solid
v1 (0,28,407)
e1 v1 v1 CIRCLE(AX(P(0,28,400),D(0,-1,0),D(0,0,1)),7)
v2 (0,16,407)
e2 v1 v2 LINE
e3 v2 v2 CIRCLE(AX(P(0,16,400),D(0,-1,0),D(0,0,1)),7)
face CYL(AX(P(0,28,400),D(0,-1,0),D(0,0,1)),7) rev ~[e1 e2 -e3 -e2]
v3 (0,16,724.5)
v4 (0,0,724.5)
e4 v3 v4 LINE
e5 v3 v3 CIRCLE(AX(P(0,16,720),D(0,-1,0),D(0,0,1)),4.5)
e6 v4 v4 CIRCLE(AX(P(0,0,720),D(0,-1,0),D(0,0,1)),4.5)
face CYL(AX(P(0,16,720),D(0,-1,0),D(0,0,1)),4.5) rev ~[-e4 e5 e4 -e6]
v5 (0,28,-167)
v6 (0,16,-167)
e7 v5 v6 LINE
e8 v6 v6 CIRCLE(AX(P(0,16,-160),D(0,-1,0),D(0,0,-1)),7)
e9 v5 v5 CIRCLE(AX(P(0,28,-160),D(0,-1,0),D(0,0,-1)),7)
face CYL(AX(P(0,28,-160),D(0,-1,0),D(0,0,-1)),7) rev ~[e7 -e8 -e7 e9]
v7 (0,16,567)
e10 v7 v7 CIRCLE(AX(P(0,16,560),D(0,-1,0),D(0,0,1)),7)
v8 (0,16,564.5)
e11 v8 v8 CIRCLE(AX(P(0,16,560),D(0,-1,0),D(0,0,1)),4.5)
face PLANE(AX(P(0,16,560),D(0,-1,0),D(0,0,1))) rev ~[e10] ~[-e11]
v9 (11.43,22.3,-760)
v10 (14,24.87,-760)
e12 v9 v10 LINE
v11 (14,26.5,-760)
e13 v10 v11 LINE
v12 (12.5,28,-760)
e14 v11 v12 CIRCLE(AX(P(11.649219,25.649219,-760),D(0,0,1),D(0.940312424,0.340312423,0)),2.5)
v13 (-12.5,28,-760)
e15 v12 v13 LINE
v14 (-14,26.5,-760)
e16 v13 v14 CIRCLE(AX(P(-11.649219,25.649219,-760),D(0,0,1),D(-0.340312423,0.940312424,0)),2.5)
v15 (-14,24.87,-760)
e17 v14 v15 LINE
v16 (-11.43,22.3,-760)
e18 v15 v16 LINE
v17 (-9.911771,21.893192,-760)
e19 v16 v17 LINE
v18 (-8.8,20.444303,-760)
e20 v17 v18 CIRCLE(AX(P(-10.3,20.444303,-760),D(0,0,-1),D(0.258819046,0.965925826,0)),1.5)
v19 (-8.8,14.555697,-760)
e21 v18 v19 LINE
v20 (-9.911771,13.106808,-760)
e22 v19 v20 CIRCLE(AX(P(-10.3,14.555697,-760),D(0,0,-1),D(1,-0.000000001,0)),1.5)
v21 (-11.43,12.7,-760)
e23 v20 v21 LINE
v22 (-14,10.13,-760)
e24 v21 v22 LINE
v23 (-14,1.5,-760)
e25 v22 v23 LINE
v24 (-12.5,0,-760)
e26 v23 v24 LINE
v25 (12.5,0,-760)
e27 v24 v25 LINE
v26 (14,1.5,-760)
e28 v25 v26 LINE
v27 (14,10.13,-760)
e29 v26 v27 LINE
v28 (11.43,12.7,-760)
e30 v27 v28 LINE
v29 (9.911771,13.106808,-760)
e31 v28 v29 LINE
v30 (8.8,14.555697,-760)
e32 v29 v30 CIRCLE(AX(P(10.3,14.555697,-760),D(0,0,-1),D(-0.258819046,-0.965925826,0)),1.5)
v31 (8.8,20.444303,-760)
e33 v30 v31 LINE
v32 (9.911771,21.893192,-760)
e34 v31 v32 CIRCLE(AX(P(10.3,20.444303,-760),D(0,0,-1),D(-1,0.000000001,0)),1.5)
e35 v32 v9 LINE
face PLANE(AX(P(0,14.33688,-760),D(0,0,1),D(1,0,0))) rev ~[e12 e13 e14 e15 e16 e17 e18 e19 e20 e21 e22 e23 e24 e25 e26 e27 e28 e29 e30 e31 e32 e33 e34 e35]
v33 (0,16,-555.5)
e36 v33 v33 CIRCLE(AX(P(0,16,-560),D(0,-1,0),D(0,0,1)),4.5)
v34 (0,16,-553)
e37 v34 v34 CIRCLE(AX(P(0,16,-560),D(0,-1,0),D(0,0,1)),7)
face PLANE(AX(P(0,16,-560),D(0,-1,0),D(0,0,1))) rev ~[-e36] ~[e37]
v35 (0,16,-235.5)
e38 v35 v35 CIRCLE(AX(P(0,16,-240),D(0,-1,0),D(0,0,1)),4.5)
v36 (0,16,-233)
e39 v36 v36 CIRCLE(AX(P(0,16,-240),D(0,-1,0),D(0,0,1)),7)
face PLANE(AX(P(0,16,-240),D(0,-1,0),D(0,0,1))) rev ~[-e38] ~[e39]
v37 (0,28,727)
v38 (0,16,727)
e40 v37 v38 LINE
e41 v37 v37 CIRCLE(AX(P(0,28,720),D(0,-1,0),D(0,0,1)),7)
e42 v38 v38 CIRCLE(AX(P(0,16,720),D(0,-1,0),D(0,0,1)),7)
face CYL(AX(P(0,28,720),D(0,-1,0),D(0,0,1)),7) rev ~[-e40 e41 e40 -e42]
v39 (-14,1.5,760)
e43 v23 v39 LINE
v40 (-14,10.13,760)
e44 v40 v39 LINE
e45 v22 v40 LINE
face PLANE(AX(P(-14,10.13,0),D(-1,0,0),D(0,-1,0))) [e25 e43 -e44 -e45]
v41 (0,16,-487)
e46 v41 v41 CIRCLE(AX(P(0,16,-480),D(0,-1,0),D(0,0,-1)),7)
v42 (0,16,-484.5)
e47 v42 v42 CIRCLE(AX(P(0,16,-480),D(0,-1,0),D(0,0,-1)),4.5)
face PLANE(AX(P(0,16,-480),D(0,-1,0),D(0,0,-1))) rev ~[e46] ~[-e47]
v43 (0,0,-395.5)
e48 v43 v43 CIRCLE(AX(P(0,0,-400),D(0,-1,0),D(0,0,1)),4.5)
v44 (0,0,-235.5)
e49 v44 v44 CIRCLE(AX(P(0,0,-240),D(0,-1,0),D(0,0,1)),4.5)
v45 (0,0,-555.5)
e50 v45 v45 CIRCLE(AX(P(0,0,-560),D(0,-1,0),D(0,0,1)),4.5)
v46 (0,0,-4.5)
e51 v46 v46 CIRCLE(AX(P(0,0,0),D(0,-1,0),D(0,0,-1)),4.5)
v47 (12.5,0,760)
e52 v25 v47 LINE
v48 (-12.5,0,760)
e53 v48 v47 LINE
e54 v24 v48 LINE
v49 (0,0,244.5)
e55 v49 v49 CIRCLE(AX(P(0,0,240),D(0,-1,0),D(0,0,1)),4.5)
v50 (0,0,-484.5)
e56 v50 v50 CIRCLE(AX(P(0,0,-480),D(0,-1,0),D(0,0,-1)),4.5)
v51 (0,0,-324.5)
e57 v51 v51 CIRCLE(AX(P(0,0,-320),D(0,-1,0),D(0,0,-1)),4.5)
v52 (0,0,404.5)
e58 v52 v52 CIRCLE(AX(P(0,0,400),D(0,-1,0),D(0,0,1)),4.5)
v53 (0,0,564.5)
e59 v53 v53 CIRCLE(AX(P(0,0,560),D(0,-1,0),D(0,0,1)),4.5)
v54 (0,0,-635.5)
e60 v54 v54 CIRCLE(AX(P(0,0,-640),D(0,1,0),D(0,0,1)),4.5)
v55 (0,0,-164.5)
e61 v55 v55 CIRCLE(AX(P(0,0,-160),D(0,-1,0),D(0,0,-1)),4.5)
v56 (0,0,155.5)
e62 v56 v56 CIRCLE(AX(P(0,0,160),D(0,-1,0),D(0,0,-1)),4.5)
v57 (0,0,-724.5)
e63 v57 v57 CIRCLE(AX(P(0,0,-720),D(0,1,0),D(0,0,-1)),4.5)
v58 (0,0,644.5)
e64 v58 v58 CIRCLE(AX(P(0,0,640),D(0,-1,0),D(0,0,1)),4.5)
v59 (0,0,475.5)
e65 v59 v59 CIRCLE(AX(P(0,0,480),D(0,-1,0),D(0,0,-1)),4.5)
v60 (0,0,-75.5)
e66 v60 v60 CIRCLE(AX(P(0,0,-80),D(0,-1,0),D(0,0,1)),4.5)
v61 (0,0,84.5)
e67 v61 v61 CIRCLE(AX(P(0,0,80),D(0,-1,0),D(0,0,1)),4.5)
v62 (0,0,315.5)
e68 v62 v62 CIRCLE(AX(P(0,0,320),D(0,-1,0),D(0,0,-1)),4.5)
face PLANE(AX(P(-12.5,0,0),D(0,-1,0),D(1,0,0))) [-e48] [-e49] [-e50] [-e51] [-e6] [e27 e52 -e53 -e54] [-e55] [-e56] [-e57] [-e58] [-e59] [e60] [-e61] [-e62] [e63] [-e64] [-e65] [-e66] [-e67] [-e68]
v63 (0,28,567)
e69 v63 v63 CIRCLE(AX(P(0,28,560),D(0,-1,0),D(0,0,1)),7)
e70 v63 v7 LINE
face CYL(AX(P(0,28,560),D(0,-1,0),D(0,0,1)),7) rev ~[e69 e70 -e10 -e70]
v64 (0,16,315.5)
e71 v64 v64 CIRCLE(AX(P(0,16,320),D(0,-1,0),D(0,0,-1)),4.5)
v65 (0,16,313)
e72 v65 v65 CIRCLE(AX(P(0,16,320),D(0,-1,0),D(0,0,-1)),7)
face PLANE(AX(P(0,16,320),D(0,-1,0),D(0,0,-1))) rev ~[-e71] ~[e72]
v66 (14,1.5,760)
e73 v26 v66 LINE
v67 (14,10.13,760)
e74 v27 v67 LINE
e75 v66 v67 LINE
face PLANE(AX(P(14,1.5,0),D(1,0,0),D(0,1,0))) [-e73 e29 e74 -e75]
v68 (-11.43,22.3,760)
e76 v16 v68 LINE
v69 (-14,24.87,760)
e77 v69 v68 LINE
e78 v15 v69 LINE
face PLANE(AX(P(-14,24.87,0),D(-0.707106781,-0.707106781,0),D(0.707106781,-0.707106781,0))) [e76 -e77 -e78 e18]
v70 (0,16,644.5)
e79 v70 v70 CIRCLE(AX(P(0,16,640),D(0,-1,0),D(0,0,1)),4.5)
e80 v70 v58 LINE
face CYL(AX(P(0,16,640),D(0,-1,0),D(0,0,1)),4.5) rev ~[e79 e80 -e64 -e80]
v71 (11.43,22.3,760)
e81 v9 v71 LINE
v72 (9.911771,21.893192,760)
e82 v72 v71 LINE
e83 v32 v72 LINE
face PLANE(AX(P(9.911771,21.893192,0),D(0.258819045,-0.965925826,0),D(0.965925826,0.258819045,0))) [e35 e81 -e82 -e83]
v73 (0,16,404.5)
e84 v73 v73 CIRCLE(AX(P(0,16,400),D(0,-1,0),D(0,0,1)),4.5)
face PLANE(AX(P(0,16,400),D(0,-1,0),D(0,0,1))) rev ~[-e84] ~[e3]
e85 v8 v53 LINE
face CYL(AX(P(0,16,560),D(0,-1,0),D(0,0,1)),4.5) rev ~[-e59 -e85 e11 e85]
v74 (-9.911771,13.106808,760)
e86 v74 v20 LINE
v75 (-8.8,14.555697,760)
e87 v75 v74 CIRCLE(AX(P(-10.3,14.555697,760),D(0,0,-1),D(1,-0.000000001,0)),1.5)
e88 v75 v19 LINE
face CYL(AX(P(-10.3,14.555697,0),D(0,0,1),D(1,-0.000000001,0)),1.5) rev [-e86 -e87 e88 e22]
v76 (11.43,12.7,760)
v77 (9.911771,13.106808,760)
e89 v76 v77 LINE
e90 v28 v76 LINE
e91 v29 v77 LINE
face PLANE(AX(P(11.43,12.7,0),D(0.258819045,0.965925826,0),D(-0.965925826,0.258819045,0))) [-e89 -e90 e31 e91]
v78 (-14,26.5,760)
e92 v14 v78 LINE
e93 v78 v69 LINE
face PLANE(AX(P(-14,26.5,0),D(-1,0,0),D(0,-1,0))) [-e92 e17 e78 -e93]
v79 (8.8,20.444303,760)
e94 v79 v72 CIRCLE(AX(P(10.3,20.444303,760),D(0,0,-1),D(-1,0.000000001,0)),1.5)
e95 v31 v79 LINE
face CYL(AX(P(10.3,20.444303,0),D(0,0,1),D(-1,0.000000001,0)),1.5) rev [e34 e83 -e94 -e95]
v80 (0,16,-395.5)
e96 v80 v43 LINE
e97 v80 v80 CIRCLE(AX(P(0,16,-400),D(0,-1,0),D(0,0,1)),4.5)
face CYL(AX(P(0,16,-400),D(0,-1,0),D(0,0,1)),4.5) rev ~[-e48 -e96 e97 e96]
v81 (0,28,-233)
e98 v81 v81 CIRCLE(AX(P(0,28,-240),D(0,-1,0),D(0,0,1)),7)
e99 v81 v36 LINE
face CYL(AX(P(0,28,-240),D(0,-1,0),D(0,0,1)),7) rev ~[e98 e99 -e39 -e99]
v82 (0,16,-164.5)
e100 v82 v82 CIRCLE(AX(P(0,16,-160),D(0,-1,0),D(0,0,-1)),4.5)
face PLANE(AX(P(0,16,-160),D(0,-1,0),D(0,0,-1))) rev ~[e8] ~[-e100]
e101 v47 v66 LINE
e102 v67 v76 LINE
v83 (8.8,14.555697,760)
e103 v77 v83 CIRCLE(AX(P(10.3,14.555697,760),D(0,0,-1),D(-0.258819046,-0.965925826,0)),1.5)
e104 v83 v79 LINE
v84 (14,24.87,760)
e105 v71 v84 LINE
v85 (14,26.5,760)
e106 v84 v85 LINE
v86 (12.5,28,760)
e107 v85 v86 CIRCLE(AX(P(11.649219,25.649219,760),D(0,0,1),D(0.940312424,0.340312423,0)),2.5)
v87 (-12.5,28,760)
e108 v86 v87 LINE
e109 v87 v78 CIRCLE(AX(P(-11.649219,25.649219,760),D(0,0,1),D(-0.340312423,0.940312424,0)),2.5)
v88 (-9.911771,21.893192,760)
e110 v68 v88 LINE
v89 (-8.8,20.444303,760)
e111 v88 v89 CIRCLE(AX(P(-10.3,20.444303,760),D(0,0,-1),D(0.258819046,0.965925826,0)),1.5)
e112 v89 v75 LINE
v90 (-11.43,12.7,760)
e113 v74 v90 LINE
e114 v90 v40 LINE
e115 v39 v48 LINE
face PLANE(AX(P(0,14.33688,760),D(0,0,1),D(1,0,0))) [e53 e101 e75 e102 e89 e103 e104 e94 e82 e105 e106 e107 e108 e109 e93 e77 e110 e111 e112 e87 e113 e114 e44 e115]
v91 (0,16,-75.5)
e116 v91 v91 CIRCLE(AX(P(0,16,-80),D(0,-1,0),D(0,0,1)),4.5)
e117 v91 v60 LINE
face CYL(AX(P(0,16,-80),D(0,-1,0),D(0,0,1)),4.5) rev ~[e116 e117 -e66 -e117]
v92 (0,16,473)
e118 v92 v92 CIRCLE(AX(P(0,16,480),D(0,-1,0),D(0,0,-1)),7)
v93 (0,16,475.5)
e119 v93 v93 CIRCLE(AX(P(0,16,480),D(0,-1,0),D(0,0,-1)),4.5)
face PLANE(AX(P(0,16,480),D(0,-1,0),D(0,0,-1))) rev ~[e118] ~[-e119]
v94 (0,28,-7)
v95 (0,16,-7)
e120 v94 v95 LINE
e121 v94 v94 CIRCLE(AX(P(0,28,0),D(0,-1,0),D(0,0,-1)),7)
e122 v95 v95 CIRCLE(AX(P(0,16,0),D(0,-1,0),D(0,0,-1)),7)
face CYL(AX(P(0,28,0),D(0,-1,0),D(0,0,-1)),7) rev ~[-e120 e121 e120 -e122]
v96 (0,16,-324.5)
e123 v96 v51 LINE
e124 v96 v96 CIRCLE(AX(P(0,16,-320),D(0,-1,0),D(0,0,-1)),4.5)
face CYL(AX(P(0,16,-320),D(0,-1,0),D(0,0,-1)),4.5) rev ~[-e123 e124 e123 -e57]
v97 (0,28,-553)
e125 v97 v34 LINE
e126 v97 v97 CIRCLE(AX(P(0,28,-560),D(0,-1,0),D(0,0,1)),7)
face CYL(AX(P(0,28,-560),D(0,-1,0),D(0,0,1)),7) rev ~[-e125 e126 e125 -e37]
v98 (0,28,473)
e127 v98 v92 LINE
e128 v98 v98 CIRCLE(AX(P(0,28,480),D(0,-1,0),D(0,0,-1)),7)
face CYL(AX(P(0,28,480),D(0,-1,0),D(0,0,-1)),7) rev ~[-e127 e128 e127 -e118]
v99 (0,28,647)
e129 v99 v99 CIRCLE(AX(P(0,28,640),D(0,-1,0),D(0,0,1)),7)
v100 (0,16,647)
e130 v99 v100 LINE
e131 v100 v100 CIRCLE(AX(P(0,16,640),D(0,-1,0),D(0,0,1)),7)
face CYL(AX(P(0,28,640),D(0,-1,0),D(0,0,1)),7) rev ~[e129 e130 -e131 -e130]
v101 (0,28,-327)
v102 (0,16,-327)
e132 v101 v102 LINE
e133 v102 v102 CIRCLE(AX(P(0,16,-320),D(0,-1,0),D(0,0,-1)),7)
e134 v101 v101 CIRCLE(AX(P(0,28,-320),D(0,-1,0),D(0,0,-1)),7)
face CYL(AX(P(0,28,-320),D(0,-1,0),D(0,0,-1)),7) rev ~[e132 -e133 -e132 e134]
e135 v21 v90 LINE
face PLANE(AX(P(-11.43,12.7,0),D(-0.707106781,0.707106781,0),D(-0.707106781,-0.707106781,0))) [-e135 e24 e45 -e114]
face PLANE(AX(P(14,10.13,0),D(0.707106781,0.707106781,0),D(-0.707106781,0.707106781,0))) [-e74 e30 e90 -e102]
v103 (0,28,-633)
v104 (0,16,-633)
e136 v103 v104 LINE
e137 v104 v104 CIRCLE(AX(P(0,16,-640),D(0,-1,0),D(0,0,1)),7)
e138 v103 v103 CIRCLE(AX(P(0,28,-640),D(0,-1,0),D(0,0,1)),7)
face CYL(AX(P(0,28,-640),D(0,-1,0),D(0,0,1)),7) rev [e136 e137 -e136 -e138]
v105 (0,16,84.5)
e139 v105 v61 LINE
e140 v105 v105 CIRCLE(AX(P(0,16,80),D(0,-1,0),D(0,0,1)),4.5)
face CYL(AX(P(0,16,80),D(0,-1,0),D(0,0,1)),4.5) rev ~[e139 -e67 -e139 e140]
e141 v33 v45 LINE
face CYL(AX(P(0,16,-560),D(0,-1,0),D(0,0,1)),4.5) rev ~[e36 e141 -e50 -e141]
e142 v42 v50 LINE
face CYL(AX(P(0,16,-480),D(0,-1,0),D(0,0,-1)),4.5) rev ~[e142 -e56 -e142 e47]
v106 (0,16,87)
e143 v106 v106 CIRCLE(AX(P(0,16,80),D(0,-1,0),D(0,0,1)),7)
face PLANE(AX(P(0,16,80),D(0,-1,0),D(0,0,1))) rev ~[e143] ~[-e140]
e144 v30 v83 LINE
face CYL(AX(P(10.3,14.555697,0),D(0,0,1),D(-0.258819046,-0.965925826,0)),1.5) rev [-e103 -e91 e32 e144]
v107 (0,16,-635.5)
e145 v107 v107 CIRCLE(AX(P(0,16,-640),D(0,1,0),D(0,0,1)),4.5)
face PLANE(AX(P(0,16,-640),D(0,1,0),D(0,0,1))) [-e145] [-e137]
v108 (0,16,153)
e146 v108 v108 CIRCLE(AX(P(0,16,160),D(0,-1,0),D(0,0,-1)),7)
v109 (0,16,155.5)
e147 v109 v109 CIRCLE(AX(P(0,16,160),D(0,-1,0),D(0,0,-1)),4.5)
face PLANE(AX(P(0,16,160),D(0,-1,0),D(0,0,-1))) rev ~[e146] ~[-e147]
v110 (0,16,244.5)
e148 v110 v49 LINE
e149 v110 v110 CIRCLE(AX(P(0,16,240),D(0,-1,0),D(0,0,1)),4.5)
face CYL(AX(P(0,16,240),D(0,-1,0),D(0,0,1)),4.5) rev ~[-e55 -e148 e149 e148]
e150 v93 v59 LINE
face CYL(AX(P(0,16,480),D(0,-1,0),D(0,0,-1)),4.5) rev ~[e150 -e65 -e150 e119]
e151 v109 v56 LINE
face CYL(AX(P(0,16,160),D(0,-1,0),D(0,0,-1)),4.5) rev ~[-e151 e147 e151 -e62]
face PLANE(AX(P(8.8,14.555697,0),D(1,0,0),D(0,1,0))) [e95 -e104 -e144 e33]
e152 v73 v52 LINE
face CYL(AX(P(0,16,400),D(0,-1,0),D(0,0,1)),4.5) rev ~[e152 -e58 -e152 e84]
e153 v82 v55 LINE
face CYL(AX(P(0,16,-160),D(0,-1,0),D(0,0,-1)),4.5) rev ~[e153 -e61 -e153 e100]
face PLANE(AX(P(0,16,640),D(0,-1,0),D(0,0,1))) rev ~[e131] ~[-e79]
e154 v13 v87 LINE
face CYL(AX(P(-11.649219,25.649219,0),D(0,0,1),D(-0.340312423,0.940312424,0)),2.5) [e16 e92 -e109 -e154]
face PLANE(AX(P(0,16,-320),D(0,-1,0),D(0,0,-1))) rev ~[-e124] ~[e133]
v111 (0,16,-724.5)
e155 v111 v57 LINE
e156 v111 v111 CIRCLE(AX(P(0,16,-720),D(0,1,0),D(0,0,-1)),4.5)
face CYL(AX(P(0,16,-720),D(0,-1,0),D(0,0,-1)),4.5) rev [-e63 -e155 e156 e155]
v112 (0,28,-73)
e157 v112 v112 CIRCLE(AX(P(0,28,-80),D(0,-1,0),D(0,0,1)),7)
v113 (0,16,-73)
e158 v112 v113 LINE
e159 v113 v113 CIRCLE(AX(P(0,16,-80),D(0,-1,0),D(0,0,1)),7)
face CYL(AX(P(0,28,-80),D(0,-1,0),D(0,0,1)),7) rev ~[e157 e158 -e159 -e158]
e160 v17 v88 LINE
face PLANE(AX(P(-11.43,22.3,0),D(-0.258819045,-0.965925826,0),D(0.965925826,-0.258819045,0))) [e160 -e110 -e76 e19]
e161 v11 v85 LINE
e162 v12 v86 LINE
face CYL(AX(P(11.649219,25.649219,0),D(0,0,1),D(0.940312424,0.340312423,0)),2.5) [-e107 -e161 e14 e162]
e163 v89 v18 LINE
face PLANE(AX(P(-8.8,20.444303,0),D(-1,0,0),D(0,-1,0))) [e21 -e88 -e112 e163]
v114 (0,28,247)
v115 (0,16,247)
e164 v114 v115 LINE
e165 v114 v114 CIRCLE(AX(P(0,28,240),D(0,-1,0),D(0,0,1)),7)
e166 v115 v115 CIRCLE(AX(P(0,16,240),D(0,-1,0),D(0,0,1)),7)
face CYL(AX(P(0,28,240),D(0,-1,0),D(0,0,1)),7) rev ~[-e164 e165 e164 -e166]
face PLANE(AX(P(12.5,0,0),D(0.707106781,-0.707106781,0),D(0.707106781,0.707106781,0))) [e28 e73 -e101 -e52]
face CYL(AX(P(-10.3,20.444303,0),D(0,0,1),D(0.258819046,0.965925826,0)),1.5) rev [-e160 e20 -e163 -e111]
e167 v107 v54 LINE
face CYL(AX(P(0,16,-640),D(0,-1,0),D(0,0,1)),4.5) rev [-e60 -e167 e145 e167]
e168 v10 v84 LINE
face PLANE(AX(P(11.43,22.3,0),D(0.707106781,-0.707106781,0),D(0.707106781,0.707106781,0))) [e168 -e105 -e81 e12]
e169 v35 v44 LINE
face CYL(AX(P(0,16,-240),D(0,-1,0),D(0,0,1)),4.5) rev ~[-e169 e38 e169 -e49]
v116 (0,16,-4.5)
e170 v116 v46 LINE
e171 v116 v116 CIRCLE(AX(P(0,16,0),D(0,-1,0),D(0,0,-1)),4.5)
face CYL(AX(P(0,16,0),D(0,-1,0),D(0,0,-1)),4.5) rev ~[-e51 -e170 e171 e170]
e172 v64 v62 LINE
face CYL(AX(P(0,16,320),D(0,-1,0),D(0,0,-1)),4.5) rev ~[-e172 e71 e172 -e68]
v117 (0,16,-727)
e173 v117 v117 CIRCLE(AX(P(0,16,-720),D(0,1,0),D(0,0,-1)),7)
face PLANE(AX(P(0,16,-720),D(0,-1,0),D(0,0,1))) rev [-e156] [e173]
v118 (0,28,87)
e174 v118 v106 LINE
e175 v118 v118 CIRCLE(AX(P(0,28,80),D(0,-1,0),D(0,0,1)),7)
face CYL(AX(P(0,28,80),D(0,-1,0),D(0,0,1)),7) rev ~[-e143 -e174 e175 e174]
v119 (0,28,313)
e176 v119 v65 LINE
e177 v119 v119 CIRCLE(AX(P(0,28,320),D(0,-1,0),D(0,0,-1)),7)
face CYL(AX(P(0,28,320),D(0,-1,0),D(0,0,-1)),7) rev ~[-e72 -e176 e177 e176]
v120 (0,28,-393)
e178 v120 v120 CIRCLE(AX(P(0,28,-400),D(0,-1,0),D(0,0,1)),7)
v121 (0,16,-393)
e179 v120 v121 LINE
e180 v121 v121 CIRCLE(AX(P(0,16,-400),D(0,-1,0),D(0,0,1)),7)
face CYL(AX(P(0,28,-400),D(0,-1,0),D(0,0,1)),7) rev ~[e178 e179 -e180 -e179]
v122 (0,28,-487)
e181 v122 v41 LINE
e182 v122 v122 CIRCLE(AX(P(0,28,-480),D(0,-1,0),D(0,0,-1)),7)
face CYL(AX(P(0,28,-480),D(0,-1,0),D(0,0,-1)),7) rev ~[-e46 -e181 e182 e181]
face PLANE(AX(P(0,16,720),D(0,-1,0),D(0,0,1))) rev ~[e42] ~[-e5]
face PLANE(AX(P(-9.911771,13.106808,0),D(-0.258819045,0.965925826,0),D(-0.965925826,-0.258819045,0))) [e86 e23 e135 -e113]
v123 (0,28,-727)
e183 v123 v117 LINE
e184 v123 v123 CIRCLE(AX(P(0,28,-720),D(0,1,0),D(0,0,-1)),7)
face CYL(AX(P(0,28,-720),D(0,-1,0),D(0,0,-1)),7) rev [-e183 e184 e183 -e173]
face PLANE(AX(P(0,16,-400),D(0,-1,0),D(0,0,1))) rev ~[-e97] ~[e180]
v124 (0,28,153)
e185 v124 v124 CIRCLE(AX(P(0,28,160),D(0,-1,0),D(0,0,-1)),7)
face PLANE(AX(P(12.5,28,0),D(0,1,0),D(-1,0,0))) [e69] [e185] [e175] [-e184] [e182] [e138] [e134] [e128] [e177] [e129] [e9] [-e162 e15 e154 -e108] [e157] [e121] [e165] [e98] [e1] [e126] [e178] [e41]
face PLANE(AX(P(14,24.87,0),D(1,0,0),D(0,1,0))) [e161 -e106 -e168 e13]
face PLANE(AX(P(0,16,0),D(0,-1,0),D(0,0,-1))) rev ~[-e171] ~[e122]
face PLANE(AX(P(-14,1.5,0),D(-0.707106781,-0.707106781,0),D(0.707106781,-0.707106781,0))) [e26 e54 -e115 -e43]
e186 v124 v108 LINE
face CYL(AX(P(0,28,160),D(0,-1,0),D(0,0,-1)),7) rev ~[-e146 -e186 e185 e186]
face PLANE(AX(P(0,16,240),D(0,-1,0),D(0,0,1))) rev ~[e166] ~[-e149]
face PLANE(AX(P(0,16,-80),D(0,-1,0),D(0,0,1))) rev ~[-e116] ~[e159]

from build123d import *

# Parameters (mm, degrees)
BOSS_EXTRUDE1_DEPTH = 760
LPATTERN1_COUNT     = 2
LPATTERN1_PITCH     = 80
LPATTERN2_COUNT     = 9
LPATTERN2_PITCH     = 160


with BuildPart() as part:
    # Sketch1 → Boss-Extrude1 (new, symmetric)
    with BuildSketch(Plane.XY):
        with BuildLine():
            Line((-9.911771432, 13.106808119), (-11.43, 12.7))
            Line((-11.43, 12.7), (-14, 10.13))
            Line((-14, 10.13), (-14, 1.5))
            Line((-14, 1.5), (-12.5, 0))
            Line((-12.5, 0), (12.5, 0))
            Line((12.5, 0), (14, 1.5))
            Line((14, 1.5), (14, 10.13))
            Line((14, 10.13), (11.43, 12.7))
            Line((11.43, 12.7), (9.911771432, 13.106808119))
            ThreePointArc((9.911771432, 13.106808119), (9.10996999, 13.642554715), (8.8, 14.555696858))
            Line((8.8, 14.555696858), (8.8, 20.444303142))
            ThreePointArc((8.8, 20.444303142), (9.10996999, 21.357445285), (9.911771432, 21.893191881))
            Line((9.911771432, 21.893191881), (11.43, 22.3))
            Line((11.43, 22.3), (14, 24.87))
            Line((14, 24.87), (14, 26.5))
            ThreePointArc((14, 26.5), (13.416985894, 27.416985894), (12.5, 28))
            Line((12.5, 28), (-12.5, 28))
            ThreePointArc((-12.5, 28), (-13.416985894, 27.416985894), (-14, 26.5))
            Line((-14, 26.5), (-14, 24.87))
            Line((-14, 24.87), (-11.43, 22.3))
            Line((-11.43, 22.3), (-9.911771432, 21.893191881))
            ThreePointArc((-9.911771432, 21.893191881), (-9.10996999, 21.357445285), (-8.8, 20.444303142))
            Line((-8.8, 20.444303142), (-8.8, 14.555696858))
            ThreePointArc((-8.8, 14.555696858), (-9.10996999, 13.642554715), (-9.911771432, 13.106808119))
        make_face()
    extrude(amount=BOSS_EXTRUDE1_DEPTH, both=True)

    # Sketch2 → Cut-Revolve1 (revolve, cut)
    with BuildSketch(Plane(origin=(0, 0, 0), x_dir=(0, 0, -1), z_dir=(1, 0, 0)), mode=Mode.PRIVATE) as cut_revolve1_sk:
        Polygon((-720, 28), (-713, 28), (-713, 16), (-715.5, 16), (-715.5, 0), (-720, 0), align=None)
    cut_revolve1 = revolve(cut_revolve1_sk.sketch.rotate(Axis((0, 28, 720), (0, -1, 0)), 180), axis=Axis((0, 28, 720), (0, -1, 0)), mode=Mode.SUBTRACT)

    # LPattern1: Cut-Revolve1 ×2
    with Locations(*[(0, 0, -i * LPATTERN1_PITCH) for i in range(1, LPATTERN1_COUNT)]):
        add(cut_revolve1, mode=Mode.SUBTRACT)

    # Mirror1: Cut-Revolve1 across plane
    add(cut_revolve1.mirror(Plane.XY), mode=Mode.SUBTRACT)

    # Mirror1 copy 1 sketch → Mirror1 copy 1 (revolve, cut)
    with BuildSketch(Plane(origin=(0, 0, 80), x_dir=(0, 0, 1), z_dir=(1, 0, 0))):
        Polygon((-720, -28), (-713, -28), (-713, -16), (-715.5, -16), (-715.5, 0), (-720, 0), align=None)
    revolve(axis=Axis((0, 28, -640), (0, 1, 0)), mode=Mode.SUBTRACT)

    # LPattern2: Cut-Revolve1 ×9
    with Locations(*[(0, 0, -i * LPATTERN2_PITCH) for i in range(1, LPATTERN2_COUNT)]):
        add(cut_revolve1, mode=Mode.SUBTRACT)

    # LPattern2 copy 1 sketch → LPattern2 copy 1 (revolve, cut)
    with BuildSketch(Plane(origin=(0, 0, -240), x_dir=(0, 0, -1), z_dir=(1, 0, 0))):
        Polygon((-720, 28), (-713, 28), (-713, 16), (-715.5, 16), (-715.5, 0), (-720, 0), align=None)
    revolve(axis=Axis((0, 28, 480), (0, -1, 0)), mode=Mode.SUBTRACT)

    # LPattern2 copy 2 sketch → LPattern2 copy 2 (revolve, cut)
    with BuildSketch(Plane(origin=(0, 0, -400), x_dir=(0, 0, -1), z_dir=(1, 0, 0))):
        Polygon((-720, 28), (-713, 28), (-713, 16), (-715.5, 16), (-715.5, 0), (-720, 0), align=None)
    revolve(axis=Axis((0, 28, 320), (0, -1, 0)), mode=Mode.SUBTRACT)

    # LPattern2 copy 3 sketch → LPattern2 copy 3 (revolve, cut)
    with BuildSketch(Plane(origin=(0, 0, -560), x_dir=(0, 0, -1), z_dir=(1, 0, 0))):
        Polygon((-720, 28), (-713, 28), (-713, 16), (-715.5, 16), (-715.5, 0), (-720, 0), align=None)
    revolve(axis=Axis((0, 28, 160), (0, -1, 0)), mode=Mode.SUBTRACT)

    # LPattern2 copy 4 sketch → LPattern2 copy 4 (revolve, cut)
    with BuildSketch(Plane(origin=(0, 0, -720), x_dir=(0, 0, -1), z_dir=(1, 0, 0))):
        Polygon((-720, 28), (-713, 28), (-713, 16), (-715.5, 16), (-715.5, 0), (-720, 0), align=None)
    revolve(axis=Axis((0, 28, 0), (0, -1, 0)), mode=Mode.SUBTRACT)

    # LPattern2 copy 5 sketch → LPattern2 copy 5 (revolve, cut)
    with BuildSketch(Plane(origin=(0, 0, -880), x_dir=(0, 0, -1), z_dir=(1, 0, 0))):
        Polygon((-720, 28), (-713, 28), (-713, 16), (-715.5, 16), (-715.5, 0), (-720, 0), align=None)
    revolve(axis=Axis((0, 28, -160), (0, -1, 0)), mode=Mode.SUBTRACT)

    # LPattern2 copy 6 sketch → LPattern2 copy 6 (revolve, cut)
    with BuildSketch(Plane(origin=(0, 0, -1040), x_dir=(0, 0, -1), z_dir=(1, 0, 0))):
        Polygon((-720, 28), (-713, 28), (-713, 16), (-715.5, 16), (-715.5, 0), (-720, 0), align=None)
    revolve(axis=Axis((0, 28, -320), (0, -1, 0)), mode=Mode.SUBTRACT)

    # LPattern2 copy 7 sketch → LPattern2 copy 7 (revolve, cut)
    with BuildSketch(Plane(origin=(0, 0, -1200), x_dir=(0, 0, -1), z_dir=(1, 0, 0))):
        Polygon((-720, 28), (-713, 28), (-713, 16), (-715.5, 16), (-715.5, 0), (-720, 0), align=None)
    revolve(axis=Axis((0, 28, -480), (0, -1, 0)), mode=Mode.SUBTRACT)

    # LPattern2 copy 8 sketch → LPattern2 copy 8 (revolve, cut)
    with BuildSketch(Plane(origin=(0, 0, -1360), x_dir=(0, 0, -1), z_dir=(1, 0, 0))):
        Polygon((-720, 28), (-713, 28), (-713, 16), (-715.5, 16), (-715.5, 0), (-720, 0), align=None)
    revolve(axis=Axis((0, 28, -640), (0, -1, 0)), mode=Mode.SUBTRACT)


solid = part.part
